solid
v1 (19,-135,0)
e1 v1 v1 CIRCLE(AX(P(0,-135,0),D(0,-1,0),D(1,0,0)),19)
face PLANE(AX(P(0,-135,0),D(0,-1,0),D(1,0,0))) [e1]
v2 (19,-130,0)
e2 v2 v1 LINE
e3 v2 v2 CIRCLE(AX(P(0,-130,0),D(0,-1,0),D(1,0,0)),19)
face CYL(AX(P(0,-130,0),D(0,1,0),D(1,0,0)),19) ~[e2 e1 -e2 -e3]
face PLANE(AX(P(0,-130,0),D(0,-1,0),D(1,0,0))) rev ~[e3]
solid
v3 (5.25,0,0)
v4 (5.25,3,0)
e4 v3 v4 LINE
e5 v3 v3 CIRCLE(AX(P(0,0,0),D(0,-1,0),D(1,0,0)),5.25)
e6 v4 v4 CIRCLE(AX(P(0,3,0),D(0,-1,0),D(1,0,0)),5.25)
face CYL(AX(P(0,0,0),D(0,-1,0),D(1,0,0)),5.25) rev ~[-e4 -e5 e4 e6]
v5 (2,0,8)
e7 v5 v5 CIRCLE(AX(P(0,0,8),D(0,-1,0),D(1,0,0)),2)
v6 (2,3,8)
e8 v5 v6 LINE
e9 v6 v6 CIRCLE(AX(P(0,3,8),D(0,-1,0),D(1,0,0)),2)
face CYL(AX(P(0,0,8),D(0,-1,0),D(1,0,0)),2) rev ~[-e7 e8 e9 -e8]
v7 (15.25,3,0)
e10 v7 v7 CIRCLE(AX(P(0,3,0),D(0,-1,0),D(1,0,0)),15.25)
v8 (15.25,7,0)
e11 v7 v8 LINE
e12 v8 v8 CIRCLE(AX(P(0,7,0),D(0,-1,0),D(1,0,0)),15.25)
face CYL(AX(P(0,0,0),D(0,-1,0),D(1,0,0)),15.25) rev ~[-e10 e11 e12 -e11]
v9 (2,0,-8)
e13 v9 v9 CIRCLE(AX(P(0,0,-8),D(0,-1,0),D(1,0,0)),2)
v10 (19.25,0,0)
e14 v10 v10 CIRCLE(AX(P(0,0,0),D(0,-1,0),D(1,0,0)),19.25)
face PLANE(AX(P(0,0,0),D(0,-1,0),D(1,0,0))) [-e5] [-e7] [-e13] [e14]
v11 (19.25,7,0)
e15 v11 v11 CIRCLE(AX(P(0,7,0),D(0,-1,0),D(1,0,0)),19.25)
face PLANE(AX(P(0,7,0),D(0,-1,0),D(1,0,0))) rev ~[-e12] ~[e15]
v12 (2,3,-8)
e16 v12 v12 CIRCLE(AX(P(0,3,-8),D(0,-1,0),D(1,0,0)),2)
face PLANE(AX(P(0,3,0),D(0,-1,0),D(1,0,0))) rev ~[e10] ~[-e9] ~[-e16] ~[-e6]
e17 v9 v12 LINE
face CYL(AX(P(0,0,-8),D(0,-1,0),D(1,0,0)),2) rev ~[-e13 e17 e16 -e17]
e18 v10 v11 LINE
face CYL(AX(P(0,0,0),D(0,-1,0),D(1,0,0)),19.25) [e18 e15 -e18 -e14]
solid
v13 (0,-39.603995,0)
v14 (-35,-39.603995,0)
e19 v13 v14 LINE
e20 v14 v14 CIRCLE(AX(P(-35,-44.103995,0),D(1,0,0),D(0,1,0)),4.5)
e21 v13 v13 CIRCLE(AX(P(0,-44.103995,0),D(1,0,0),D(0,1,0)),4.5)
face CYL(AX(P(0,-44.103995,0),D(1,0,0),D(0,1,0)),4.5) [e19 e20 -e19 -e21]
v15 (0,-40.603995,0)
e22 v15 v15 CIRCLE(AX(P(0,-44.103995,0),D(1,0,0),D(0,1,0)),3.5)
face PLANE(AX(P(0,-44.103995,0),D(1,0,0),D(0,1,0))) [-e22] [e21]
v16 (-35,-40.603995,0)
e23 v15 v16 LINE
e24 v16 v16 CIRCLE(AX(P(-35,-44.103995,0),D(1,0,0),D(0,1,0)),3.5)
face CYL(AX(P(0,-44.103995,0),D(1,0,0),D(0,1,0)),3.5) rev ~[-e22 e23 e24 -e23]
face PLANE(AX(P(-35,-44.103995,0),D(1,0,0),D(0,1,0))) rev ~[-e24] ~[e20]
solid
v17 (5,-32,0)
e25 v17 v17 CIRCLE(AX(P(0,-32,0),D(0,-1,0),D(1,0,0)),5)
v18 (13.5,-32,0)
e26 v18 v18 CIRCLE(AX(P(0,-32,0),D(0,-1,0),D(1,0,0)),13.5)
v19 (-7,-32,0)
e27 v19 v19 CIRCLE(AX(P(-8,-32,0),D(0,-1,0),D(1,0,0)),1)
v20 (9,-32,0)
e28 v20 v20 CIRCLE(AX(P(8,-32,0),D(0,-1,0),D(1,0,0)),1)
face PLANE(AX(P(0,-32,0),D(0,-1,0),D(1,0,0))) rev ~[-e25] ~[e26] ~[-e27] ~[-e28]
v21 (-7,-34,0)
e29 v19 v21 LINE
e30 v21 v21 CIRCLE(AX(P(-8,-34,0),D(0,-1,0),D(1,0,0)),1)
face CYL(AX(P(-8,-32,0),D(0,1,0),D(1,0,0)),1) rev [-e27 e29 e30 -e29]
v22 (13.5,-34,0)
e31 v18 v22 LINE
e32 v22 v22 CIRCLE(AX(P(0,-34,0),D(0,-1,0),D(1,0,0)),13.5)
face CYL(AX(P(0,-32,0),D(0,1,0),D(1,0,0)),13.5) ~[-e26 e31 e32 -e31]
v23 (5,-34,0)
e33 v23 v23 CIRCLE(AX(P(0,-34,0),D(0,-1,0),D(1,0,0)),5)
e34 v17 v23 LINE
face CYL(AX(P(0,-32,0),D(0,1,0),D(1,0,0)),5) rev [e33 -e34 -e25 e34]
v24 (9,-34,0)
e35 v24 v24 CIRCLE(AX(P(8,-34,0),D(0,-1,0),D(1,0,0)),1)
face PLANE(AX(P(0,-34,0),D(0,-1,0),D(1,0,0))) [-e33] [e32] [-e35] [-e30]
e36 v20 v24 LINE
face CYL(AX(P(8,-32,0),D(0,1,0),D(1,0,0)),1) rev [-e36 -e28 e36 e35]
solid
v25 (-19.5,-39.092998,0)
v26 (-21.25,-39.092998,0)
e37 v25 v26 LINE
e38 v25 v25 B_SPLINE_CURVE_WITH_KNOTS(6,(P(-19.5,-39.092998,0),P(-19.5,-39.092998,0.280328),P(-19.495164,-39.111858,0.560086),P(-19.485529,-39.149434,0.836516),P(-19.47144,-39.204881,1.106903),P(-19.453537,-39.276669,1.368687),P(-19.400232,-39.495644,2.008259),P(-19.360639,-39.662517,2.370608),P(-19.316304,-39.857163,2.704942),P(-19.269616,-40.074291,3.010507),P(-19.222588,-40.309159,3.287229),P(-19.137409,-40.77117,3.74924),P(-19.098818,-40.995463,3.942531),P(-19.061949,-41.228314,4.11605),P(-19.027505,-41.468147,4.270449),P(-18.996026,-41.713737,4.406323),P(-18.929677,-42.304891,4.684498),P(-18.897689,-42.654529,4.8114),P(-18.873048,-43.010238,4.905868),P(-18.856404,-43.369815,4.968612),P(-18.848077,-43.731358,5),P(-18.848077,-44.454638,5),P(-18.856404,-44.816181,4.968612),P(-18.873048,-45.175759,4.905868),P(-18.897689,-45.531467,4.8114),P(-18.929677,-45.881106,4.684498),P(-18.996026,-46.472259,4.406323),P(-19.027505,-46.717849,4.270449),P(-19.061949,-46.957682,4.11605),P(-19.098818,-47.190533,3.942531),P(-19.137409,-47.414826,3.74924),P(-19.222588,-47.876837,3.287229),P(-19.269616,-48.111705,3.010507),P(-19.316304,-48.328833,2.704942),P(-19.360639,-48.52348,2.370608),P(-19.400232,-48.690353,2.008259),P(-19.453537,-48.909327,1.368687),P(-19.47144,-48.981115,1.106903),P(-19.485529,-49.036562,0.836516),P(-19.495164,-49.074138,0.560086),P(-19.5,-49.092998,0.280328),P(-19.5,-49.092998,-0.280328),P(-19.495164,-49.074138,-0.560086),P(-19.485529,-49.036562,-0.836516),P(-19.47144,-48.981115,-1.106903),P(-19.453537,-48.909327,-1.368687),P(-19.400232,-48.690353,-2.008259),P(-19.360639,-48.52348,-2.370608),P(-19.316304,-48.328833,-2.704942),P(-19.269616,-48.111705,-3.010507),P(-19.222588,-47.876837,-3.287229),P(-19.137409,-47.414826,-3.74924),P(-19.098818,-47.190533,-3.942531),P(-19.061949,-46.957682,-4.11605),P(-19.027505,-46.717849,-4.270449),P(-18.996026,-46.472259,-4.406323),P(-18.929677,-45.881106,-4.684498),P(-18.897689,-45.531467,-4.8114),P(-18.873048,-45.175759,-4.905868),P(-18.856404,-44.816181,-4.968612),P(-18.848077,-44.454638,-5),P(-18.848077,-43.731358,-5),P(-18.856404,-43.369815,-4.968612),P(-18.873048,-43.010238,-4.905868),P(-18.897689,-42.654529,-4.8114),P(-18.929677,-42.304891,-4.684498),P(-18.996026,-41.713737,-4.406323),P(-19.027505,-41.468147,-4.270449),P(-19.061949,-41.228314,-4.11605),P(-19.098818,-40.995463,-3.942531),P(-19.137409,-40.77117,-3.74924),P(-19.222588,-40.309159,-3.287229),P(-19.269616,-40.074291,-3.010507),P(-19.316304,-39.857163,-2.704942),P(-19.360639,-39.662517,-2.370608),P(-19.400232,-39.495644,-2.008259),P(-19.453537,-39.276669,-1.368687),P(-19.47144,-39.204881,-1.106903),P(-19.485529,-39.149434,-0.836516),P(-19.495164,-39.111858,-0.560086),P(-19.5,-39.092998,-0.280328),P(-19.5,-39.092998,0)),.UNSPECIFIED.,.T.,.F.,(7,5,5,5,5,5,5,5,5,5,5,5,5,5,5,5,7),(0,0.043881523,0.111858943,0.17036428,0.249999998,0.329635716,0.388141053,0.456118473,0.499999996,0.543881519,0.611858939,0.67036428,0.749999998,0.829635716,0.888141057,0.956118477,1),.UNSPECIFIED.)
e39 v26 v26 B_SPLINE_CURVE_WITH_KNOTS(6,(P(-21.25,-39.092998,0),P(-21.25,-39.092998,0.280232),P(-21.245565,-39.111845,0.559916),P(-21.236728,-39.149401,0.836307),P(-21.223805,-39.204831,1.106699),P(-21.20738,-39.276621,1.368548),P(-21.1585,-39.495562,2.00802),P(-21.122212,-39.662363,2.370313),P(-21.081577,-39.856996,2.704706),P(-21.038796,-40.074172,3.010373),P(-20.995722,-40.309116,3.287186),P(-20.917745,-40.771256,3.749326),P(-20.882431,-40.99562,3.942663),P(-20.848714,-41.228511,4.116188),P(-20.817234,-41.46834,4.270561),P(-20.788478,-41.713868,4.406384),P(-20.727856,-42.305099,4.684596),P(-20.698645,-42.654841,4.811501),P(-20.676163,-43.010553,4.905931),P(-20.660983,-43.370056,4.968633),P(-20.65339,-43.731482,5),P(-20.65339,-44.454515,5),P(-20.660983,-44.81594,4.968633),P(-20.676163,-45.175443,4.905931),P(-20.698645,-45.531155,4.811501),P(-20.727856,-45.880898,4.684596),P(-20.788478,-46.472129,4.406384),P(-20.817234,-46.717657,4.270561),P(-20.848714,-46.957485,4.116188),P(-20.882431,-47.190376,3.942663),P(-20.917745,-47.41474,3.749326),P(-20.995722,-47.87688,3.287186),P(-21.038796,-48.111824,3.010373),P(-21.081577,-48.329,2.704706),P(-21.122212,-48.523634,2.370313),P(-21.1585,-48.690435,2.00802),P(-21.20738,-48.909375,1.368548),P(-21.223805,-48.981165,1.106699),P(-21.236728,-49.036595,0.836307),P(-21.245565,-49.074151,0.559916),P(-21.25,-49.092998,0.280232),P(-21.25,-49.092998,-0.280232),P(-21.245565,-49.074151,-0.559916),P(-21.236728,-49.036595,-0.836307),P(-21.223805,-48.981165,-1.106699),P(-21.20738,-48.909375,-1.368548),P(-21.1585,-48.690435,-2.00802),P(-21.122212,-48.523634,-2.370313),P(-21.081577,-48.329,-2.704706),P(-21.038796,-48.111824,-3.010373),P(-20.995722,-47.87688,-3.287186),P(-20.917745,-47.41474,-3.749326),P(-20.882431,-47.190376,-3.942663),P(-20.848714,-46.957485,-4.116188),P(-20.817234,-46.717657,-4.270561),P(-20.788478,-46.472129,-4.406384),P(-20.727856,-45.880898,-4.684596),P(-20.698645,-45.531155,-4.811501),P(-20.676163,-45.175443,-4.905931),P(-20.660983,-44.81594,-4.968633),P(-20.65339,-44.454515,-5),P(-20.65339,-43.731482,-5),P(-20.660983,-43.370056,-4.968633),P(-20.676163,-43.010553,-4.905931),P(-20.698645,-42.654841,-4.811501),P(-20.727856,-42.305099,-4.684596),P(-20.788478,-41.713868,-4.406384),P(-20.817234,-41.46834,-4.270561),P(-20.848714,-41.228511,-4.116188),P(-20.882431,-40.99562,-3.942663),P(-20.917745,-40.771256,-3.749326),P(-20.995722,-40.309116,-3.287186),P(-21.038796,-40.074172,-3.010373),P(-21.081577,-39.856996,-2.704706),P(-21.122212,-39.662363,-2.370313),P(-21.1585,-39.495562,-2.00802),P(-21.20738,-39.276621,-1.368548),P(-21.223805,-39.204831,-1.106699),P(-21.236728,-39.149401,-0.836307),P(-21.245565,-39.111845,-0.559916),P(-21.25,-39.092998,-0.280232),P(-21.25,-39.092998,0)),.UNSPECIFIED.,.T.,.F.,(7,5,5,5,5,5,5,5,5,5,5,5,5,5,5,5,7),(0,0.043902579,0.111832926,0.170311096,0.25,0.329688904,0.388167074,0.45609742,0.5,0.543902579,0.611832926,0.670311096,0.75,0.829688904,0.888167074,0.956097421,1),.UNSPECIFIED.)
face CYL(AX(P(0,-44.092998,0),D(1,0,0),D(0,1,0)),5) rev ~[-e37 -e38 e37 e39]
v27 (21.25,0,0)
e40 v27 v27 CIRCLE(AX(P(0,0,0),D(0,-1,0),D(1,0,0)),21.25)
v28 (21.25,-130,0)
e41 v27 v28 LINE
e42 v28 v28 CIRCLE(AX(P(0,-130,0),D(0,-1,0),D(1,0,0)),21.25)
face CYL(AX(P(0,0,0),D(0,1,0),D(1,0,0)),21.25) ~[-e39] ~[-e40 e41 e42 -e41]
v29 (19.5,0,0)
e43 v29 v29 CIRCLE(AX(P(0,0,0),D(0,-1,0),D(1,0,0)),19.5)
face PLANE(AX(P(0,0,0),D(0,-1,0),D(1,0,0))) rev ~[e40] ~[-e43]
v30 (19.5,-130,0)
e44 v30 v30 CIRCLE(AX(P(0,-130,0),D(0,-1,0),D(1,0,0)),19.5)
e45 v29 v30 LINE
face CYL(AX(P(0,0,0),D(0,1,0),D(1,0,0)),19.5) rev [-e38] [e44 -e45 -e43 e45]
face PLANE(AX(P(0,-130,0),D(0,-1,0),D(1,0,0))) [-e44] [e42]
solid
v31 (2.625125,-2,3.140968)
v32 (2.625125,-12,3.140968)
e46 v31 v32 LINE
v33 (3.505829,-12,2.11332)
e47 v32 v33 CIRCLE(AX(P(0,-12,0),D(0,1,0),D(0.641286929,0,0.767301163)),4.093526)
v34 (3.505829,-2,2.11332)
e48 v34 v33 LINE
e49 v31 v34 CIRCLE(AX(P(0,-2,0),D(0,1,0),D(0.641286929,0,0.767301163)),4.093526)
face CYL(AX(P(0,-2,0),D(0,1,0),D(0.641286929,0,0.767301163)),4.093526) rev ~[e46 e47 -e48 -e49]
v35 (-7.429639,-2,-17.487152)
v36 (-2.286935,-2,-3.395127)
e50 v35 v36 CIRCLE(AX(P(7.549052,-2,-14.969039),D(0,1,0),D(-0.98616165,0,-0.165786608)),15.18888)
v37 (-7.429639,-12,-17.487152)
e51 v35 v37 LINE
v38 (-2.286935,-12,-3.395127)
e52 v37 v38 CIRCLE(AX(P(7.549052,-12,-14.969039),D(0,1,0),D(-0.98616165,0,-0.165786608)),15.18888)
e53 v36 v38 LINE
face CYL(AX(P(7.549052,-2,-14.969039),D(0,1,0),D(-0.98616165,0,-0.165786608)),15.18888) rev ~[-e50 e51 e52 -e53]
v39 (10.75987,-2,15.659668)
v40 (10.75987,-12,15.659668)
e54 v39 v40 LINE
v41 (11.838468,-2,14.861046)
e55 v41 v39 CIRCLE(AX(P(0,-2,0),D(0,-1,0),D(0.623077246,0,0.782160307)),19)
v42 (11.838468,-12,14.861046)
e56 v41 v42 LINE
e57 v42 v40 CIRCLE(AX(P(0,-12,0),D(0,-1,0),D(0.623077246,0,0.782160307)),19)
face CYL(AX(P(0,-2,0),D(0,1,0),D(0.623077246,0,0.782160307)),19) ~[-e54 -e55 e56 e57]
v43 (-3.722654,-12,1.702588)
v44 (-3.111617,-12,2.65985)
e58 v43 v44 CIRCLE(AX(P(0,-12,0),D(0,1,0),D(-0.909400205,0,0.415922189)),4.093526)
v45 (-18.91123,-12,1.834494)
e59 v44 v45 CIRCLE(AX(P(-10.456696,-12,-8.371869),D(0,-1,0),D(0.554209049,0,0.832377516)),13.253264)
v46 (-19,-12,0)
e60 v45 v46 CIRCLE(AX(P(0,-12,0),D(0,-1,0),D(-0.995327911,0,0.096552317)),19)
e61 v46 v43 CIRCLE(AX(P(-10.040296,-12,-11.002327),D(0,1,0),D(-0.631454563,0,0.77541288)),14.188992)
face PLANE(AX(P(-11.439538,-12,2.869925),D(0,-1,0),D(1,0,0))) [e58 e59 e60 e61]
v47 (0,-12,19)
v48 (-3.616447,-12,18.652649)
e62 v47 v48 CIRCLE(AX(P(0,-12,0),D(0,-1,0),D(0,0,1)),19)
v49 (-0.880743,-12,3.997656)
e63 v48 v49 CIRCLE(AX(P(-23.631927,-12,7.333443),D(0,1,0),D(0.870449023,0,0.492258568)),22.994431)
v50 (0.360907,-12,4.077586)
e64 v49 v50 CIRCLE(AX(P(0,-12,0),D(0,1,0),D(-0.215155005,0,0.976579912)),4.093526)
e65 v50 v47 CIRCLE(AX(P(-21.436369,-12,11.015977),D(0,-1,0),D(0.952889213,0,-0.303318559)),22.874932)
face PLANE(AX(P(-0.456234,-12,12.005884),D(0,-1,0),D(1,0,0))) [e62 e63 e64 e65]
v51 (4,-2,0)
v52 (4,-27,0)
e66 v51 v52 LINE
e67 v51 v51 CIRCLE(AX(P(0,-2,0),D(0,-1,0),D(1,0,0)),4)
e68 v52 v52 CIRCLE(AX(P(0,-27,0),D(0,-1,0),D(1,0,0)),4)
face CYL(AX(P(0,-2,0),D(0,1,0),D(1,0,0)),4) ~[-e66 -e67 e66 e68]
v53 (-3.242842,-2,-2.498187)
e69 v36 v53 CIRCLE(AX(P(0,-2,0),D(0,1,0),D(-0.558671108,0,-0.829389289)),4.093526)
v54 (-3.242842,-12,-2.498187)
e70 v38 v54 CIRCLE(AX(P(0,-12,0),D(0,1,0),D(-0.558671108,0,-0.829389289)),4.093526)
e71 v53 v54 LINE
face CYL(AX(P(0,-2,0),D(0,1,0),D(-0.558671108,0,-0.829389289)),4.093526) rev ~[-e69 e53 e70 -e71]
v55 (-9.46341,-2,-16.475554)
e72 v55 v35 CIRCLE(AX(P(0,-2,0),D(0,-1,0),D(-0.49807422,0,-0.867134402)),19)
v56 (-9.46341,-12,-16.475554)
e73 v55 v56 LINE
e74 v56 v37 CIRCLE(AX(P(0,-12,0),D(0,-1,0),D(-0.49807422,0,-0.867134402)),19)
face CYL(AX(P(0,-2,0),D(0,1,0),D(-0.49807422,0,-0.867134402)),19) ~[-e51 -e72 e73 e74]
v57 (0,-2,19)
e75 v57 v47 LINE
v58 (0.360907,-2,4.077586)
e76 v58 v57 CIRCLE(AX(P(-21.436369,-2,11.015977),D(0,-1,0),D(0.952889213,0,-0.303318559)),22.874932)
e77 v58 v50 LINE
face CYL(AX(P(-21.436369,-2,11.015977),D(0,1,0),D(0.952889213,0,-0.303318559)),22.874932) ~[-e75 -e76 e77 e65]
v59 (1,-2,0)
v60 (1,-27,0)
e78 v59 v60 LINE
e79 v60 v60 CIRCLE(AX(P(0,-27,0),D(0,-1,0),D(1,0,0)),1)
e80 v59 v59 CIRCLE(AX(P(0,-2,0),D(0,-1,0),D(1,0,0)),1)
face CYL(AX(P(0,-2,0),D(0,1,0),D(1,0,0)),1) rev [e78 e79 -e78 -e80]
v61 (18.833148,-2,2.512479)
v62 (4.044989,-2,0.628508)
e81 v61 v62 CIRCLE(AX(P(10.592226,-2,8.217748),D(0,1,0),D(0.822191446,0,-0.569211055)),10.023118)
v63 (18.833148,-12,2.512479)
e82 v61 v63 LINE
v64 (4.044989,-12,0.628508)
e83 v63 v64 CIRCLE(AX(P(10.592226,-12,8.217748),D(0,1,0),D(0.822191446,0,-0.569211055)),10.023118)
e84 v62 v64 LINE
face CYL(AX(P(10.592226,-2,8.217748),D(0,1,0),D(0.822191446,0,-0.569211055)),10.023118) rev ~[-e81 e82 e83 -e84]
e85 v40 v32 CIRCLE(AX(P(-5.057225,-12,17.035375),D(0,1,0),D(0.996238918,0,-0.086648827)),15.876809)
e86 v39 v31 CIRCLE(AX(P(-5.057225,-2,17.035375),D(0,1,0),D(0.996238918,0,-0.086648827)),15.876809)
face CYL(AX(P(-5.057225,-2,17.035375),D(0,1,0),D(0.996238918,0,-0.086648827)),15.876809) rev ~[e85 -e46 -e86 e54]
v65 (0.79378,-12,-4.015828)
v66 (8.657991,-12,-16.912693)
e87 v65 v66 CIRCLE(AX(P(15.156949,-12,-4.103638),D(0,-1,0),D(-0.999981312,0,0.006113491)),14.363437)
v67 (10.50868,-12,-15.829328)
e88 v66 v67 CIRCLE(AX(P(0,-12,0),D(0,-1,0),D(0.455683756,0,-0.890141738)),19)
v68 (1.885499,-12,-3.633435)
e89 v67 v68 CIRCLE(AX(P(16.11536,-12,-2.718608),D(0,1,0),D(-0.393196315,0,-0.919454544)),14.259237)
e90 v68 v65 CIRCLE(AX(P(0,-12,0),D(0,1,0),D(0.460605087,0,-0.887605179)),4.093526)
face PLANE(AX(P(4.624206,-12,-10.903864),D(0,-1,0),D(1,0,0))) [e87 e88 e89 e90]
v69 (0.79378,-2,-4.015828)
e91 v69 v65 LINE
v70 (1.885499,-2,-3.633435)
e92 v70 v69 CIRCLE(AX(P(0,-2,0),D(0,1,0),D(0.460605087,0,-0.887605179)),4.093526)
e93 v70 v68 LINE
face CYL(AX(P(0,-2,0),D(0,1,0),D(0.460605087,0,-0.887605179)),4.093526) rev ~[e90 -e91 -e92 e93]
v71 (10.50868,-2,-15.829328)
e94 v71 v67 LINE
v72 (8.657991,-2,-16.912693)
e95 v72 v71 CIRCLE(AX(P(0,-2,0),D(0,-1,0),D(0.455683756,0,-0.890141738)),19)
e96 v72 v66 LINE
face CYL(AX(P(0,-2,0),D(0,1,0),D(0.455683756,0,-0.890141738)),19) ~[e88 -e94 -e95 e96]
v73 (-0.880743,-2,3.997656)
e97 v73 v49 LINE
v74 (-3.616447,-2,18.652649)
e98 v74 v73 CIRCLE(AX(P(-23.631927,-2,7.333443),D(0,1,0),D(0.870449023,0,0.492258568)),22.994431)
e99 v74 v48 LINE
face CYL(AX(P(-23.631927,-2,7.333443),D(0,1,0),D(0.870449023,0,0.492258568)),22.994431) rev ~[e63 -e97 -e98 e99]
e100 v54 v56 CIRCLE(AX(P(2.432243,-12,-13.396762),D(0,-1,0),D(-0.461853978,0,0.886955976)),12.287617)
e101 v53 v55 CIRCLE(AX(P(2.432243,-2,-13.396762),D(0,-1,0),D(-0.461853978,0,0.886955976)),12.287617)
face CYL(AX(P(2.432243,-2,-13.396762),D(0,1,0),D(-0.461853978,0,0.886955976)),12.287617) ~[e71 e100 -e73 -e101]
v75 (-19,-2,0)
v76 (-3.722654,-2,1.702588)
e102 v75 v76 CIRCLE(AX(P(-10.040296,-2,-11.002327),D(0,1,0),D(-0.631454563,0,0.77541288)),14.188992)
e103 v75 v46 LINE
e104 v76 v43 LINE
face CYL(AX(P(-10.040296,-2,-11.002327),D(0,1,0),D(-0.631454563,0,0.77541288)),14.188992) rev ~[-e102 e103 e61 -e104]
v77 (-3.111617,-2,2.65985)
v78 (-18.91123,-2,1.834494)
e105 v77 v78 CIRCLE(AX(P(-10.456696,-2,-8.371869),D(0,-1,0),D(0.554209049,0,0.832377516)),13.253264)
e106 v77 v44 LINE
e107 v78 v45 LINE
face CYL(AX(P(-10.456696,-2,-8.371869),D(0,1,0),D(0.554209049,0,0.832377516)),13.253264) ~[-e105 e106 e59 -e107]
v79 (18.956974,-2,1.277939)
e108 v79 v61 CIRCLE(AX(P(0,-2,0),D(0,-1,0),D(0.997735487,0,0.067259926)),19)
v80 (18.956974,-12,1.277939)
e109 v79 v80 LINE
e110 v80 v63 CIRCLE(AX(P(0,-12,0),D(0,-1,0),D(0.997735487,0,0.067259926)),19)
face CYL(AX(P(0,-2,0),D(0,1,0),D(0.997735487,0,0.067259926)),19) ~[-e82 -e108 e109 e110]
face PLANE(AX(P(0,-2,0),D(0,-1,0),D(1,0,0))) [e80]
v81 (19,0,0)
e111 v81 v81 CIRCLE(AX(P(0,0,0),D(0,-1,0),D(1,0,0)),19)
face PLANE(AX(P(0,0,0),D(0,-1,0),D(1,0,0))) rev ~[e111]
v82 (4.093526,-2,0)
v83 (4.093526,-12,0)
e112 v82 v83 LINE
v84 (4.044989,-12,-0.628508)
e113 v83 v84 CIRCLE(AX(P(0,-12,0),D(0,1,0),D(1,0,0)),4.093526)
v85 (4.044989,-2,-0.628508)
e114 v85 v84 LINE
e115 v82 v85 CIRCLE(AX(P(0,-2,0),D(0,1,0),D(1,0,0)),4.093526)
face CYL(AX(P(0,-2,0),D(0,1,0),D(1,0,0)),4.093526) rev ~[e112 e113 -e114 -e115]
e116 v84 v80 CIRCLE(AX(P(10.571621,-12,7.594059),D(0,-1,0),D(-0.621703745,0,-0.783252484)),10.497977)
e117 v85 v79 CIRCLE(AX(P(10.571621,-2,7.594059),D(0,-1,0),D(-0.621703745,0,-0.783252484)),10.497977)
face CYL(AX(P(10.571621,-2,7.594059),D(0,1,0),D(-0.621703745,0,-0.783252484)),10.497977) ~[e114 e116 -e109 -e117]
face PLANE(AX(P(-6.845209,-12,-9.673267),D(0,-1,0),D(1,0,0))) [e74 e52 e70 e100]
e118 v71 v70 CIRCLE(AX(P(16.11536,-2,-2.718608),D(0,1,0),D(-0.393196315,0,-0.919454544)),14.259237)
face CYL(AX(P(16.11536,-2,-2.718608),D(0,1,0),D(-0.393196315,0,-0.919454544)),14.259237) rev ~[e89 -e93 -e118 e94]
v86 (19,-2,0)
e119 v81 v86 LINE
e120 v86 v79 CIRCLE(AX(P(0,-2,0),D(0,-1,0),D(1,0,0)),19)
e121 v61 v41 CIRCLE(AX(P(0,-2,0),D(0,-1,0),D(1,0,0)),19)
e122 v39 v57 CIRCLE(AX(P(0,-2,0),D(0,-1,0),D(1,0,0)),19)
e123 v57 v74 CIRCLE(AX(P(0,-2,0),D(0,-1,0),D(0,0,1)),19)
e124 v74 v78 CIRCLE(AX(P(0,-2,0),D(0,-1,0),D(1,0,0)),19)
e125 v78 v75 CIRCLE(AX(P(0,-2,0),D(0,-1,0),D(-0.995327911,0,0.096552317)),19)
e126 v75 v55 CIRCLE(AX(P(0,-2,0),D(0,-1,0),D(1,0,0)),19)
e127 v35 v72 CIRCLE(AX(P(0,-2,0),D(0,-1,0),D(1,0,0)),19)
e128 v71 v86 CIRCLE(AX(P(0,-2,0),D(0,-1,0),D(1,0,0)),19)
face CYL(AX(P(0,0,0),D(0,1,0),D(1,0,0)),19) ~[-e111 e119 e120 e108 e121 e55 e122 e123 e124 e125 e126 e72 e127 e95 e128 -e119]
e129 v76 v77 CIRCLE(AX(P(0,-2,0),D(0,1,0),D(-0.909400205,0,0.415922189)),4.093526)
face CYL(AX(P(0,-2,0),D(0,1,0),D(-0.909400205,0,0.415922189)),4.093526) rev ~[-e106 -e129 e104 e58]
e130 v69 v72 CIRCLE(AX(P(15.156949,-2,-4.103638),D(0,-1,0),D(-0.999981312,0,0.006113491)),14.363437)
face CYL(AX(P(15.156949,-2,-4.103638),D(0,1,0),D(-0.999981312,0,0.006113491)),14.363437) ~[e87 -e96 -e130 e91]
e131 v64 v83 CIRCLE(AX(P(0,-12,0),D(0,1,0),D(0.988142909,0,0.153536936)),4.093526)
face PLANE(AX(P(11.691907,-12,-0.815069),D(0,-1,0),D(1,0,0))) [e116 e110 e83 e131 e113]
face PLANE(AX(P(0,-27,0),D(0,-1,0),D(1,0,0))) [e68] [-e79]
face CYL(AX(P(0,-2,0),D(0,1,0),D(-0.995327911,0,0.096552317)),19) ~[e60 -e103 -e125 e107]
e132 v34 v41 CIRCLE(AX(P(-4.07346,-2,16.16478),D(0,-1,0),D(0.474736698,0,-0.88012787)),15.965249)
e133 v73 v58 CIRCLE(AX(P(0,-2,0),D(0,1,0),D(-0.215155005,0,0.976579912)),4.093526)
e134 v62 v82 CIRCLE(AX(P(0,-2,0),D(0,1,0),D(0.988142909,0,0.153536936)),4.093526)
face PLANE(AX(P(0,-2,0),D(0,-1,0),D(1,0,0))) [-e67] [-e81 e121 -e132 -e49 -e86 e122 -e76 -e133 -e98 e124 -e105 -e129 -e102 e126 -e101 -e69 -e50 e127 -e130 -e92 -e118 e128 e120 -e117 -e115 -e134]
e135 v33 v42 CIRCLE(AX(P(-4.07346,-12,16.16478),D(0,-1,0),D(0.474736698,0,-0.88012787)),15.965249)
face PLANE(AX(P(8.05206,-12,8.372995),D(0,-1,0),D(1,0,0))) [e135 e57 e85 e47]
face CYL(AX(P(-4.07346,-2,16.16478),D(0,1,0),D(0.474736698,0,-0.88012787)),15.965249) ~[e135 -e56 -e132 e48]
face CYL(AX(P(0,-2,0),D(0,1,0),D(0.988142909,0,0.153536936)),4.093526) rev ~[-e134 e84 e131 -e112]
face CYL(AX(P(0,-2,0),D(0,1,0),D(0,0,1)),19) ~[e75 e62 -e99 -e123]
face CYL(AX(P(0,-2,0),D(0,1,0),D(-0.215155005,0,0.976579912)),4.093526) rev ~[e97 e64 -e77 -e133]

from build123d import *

# Parameters (mm, degrees)
F0_R      = 21.25
F0_R_2    = 19.5
F1_DEPTH  = 130
F2_R      = 19
F3_DEPTH  = 2
F5_DEPTH  = 10
F6_R      = 4
F6_R_2    = 1
F7_DEPTH  = 25
F9_R      = 13.5
F9_R_2    = 1
F9_R_3    = 5
F10_DEPTH = 2
F11_R     = 19
F12_DEPTH = 5
F14_R     = 19.25
F14_R_2   = 15.25
F15_DEPTH = 7
F13_R     = 19.25
F13_R_2   = 2
F13_R_3   = 5.25
F16_DEPTH = 3
F17_R     = 5
F18_DEPTH = 25
F19_R     = 4.5
F19_R_2   = 3.5
F20_DEPTH = 35


with BuildPart() as f1:
    # F0 (on Front) → F1 (new body)
    with BuildSketch(Plane.XZ):
        Circle(F0_R)
        Circle(F0_R_2, mode=Mode.SUBTRACT)
    extrude(amount=F1_DEPTH)

    # F17 (on Right) → F18 (cut)
    with BuildSketch(Plane.YZ):
        with Locations((-44.0929981836, 0)):
            Circle(F17_R)
    extrude(amount=-F18_DEPTH, mode=Mode.SUBTRACT)


with BuildPart() as f3:
    # F2 (on Front) → F3 (new body)
    with BuildSketch(Plane.XZ):
        Circle(F2_R)
    extrude(amount=F3_DEPTH)

    # F4 (on face) → F5 (join)
    with BuildSketch(Plane.XZ.offset(2)):
        with BuildLine():
            ThreePointArc((-0.8807426938, 3.9976556624), (-0.262972184, 4.0850708829), (0.3609074471, 4.0775855972))
            ThreePointArc((0.3609074471, 4.0775855972), (1.4318761863, 11.5690591934), (0, 19))
            ThreePointArc((0, 19), (-1.8165448197, 18.9129628805), (-3.6164468153, 18.6526489387))
            ThreePointArc((-3.6164468153, 18.6526489387), (-1.0279648452, 11.5530119939), (-0.8807426938, 3.9976556624))
        make_face()
        with BuildLine():
            ThreePointArc((4.0449890987, 0.6285075012), (4.0813740456, 0.3151894469), (4.0935264122, 0))
            ThreePointArc((4.0935264122, 0), (4.0813740456, -0.3151894469), (4.0449890987, -0.6285075012))
            ThreePointArc((4.0449890987, -0.6285075012), (11.9029156585, -2.8191622482), (18.9569742559, 1.2779385979))
            ThreePointArc((18.9569742559, 1.2779385979), (18.9051408531, 1.8962197457), (18.8331476428, 2.5124788283))
            ThreePointArc((18.8331476428, 2.5124788283), (11.8589063351, -1.7250083592), (4.0449890987, 0.6285075012))
        make_face()
        with BuildLine():
            ThreePointArc((10.5086804094, -15.8293283513), (4.472463586, -10.9507893463), (1.885499087, -3.6334352451))
            ThreePointArc((1.885499087, -3.6334352451), (1.3532147662, -3.8633881871), (0.7937800824, -4.0158276443))
            ThreePointArc((0.7937800824, -4.0158276443), (2.8936148094, -11.5815369143), (8.6579913708, -16.9126930269))
            ThreePointArc((8.6579913708, -16.9126930269), (9.5986325347, -16.3971416248), (10.5086804094, -15.8293283513))
        make_face()
        with BuildLine():
            ThreePointArc((-7.4296387756, -17.4871515023), (-6.7193868126, -9.7619546431), (-2.2869349367, -3.3951269612))
            ThreePointArc((-2.2869349367, -3.3951269612), (-2.8010234372, -2.9851676991), (-3.2428415122, -2.4981868254))
            ThreePointArc((-3.2428415122, -2.4981868254), (-8.7938159938, -8.4006512862), (-9.46341018, -16.4755536406))
            ThreePointArc((-9.46341018, -16.4755536406), (-8.4616551757, -17.0117721501), (-7.4296387756, -17.4871515023))
        make_face()
        with BuildLine():
            ThreePointArc((2.625124981, 3.1409675773), (3.1082414751, 2.6637930513), (3.5058292586, 2.1133195918))
            ThreePointArc((3.5058292586, 2.1133195918), (9.2901266507, 7.4295802077), (11.8384676733, 14.8610458295))
            ThreePointArc((11.8384676733, 14.8610458295), (11.3062223328, 15.2698833185), (10.7598697961, 15.6596680032))
            ThreePointArc((10.7598697961, 15.6596680032), (8.2557551999, 8.3845012164), (2.625124981, 3.1409675773))
        make_face()
        with BuildLine():
            ThreePointArc((-3.7226537591, 1.7025884639), (-3.4504927386, 2.202511827), (-3.1116166062, 2.6598497295))
            ThreePointArc((-3.1116166062, 2.6598497295), (-11.1480898399, 4.8633482334), (-18.9112303054, 1.8344940269))
            ThreePointArc((-18.9112303054, 1.8344940269), (-18.9777946006, 0.9183202591), (-19, 0))
            ThreePointArc((-19, 0), (-11.6118635943, 3.0993631098), (-3.7226537591, 1.7025884639))
        make_face()
    extrude(amount=F5_DEPTH)

    # F6 (on face) → F7 (join)
    with BuildSketch(Plane.XZ.offset(2)):
        Circle(F6_R)
        Circle(F6_R_2, mode=Mode.SUBTRACT)
    extrude(amount=F7_DEPTH)


with BuildPart() as f10:
    # F9 (on offset) → F10 (new body)
    with BuildSketch(Plane.XZ.offset(32)):
        Circle(F9_R)
        with Locations((-8, 0)):
            Circle(F9_R_2, mode=Mode.SUBTRACT)
        Circle(F9_R_3, mode=Mode.SUBTRACT)
        with Locations((8, 0)):
            Circle(F9_R_2, mode=Mode.SUBTRACT)
    extrude(amount=F10_DEPTH)


with BuildPart() as f12:
    # F11 (on face) → F12 (new body)
    with BuildSketch(Plane.XZ.offset(130)):
        Circle(F11_R)
    extrude(amount=F12_DEPTH)


with BuildPart() as f15:
    # F14 (on face) → F15 (new body)
    with BuildSketch(Plane.XZ):
        Circle(F14_R)
        Circle(F14_R_2, mode=Mode.SUBTRACT)
    extrude(amount=-F15_DEPTH)

    # F13 (on Front) → F16 (join)
    with BuildSketch(Plane.XZ):
        Circle(F13_R)
        with Locations((0, -8)):
            Circle(F13_R_2, mode=Mode.SUBTRACT)
        Circle(F13_R_3, mode=Mode.SUBTRACT)
        with Locations((0, 8)):
            Circle(F13_R_2, mode=Mode.SUBTRACT)
    extrude(amount=-F16_DEPTH)


with BuildPart() as f20:
    # F19 (on Right) → F20 (new body)
    with BuildSketch(Plane.YZ):
        with Locations((-44.1039949656, 0)):
            Circle(F19_R)
        with Locations((-44.1039949656, 0)):
            Circle(F19_R_2, mode=Mode.SUBTRACT)
    extrude(amount=-F20_DEPTH)


solid = Compound([f1.part, f3.part, f10.part, f12.part, f15.part, f20.part])
